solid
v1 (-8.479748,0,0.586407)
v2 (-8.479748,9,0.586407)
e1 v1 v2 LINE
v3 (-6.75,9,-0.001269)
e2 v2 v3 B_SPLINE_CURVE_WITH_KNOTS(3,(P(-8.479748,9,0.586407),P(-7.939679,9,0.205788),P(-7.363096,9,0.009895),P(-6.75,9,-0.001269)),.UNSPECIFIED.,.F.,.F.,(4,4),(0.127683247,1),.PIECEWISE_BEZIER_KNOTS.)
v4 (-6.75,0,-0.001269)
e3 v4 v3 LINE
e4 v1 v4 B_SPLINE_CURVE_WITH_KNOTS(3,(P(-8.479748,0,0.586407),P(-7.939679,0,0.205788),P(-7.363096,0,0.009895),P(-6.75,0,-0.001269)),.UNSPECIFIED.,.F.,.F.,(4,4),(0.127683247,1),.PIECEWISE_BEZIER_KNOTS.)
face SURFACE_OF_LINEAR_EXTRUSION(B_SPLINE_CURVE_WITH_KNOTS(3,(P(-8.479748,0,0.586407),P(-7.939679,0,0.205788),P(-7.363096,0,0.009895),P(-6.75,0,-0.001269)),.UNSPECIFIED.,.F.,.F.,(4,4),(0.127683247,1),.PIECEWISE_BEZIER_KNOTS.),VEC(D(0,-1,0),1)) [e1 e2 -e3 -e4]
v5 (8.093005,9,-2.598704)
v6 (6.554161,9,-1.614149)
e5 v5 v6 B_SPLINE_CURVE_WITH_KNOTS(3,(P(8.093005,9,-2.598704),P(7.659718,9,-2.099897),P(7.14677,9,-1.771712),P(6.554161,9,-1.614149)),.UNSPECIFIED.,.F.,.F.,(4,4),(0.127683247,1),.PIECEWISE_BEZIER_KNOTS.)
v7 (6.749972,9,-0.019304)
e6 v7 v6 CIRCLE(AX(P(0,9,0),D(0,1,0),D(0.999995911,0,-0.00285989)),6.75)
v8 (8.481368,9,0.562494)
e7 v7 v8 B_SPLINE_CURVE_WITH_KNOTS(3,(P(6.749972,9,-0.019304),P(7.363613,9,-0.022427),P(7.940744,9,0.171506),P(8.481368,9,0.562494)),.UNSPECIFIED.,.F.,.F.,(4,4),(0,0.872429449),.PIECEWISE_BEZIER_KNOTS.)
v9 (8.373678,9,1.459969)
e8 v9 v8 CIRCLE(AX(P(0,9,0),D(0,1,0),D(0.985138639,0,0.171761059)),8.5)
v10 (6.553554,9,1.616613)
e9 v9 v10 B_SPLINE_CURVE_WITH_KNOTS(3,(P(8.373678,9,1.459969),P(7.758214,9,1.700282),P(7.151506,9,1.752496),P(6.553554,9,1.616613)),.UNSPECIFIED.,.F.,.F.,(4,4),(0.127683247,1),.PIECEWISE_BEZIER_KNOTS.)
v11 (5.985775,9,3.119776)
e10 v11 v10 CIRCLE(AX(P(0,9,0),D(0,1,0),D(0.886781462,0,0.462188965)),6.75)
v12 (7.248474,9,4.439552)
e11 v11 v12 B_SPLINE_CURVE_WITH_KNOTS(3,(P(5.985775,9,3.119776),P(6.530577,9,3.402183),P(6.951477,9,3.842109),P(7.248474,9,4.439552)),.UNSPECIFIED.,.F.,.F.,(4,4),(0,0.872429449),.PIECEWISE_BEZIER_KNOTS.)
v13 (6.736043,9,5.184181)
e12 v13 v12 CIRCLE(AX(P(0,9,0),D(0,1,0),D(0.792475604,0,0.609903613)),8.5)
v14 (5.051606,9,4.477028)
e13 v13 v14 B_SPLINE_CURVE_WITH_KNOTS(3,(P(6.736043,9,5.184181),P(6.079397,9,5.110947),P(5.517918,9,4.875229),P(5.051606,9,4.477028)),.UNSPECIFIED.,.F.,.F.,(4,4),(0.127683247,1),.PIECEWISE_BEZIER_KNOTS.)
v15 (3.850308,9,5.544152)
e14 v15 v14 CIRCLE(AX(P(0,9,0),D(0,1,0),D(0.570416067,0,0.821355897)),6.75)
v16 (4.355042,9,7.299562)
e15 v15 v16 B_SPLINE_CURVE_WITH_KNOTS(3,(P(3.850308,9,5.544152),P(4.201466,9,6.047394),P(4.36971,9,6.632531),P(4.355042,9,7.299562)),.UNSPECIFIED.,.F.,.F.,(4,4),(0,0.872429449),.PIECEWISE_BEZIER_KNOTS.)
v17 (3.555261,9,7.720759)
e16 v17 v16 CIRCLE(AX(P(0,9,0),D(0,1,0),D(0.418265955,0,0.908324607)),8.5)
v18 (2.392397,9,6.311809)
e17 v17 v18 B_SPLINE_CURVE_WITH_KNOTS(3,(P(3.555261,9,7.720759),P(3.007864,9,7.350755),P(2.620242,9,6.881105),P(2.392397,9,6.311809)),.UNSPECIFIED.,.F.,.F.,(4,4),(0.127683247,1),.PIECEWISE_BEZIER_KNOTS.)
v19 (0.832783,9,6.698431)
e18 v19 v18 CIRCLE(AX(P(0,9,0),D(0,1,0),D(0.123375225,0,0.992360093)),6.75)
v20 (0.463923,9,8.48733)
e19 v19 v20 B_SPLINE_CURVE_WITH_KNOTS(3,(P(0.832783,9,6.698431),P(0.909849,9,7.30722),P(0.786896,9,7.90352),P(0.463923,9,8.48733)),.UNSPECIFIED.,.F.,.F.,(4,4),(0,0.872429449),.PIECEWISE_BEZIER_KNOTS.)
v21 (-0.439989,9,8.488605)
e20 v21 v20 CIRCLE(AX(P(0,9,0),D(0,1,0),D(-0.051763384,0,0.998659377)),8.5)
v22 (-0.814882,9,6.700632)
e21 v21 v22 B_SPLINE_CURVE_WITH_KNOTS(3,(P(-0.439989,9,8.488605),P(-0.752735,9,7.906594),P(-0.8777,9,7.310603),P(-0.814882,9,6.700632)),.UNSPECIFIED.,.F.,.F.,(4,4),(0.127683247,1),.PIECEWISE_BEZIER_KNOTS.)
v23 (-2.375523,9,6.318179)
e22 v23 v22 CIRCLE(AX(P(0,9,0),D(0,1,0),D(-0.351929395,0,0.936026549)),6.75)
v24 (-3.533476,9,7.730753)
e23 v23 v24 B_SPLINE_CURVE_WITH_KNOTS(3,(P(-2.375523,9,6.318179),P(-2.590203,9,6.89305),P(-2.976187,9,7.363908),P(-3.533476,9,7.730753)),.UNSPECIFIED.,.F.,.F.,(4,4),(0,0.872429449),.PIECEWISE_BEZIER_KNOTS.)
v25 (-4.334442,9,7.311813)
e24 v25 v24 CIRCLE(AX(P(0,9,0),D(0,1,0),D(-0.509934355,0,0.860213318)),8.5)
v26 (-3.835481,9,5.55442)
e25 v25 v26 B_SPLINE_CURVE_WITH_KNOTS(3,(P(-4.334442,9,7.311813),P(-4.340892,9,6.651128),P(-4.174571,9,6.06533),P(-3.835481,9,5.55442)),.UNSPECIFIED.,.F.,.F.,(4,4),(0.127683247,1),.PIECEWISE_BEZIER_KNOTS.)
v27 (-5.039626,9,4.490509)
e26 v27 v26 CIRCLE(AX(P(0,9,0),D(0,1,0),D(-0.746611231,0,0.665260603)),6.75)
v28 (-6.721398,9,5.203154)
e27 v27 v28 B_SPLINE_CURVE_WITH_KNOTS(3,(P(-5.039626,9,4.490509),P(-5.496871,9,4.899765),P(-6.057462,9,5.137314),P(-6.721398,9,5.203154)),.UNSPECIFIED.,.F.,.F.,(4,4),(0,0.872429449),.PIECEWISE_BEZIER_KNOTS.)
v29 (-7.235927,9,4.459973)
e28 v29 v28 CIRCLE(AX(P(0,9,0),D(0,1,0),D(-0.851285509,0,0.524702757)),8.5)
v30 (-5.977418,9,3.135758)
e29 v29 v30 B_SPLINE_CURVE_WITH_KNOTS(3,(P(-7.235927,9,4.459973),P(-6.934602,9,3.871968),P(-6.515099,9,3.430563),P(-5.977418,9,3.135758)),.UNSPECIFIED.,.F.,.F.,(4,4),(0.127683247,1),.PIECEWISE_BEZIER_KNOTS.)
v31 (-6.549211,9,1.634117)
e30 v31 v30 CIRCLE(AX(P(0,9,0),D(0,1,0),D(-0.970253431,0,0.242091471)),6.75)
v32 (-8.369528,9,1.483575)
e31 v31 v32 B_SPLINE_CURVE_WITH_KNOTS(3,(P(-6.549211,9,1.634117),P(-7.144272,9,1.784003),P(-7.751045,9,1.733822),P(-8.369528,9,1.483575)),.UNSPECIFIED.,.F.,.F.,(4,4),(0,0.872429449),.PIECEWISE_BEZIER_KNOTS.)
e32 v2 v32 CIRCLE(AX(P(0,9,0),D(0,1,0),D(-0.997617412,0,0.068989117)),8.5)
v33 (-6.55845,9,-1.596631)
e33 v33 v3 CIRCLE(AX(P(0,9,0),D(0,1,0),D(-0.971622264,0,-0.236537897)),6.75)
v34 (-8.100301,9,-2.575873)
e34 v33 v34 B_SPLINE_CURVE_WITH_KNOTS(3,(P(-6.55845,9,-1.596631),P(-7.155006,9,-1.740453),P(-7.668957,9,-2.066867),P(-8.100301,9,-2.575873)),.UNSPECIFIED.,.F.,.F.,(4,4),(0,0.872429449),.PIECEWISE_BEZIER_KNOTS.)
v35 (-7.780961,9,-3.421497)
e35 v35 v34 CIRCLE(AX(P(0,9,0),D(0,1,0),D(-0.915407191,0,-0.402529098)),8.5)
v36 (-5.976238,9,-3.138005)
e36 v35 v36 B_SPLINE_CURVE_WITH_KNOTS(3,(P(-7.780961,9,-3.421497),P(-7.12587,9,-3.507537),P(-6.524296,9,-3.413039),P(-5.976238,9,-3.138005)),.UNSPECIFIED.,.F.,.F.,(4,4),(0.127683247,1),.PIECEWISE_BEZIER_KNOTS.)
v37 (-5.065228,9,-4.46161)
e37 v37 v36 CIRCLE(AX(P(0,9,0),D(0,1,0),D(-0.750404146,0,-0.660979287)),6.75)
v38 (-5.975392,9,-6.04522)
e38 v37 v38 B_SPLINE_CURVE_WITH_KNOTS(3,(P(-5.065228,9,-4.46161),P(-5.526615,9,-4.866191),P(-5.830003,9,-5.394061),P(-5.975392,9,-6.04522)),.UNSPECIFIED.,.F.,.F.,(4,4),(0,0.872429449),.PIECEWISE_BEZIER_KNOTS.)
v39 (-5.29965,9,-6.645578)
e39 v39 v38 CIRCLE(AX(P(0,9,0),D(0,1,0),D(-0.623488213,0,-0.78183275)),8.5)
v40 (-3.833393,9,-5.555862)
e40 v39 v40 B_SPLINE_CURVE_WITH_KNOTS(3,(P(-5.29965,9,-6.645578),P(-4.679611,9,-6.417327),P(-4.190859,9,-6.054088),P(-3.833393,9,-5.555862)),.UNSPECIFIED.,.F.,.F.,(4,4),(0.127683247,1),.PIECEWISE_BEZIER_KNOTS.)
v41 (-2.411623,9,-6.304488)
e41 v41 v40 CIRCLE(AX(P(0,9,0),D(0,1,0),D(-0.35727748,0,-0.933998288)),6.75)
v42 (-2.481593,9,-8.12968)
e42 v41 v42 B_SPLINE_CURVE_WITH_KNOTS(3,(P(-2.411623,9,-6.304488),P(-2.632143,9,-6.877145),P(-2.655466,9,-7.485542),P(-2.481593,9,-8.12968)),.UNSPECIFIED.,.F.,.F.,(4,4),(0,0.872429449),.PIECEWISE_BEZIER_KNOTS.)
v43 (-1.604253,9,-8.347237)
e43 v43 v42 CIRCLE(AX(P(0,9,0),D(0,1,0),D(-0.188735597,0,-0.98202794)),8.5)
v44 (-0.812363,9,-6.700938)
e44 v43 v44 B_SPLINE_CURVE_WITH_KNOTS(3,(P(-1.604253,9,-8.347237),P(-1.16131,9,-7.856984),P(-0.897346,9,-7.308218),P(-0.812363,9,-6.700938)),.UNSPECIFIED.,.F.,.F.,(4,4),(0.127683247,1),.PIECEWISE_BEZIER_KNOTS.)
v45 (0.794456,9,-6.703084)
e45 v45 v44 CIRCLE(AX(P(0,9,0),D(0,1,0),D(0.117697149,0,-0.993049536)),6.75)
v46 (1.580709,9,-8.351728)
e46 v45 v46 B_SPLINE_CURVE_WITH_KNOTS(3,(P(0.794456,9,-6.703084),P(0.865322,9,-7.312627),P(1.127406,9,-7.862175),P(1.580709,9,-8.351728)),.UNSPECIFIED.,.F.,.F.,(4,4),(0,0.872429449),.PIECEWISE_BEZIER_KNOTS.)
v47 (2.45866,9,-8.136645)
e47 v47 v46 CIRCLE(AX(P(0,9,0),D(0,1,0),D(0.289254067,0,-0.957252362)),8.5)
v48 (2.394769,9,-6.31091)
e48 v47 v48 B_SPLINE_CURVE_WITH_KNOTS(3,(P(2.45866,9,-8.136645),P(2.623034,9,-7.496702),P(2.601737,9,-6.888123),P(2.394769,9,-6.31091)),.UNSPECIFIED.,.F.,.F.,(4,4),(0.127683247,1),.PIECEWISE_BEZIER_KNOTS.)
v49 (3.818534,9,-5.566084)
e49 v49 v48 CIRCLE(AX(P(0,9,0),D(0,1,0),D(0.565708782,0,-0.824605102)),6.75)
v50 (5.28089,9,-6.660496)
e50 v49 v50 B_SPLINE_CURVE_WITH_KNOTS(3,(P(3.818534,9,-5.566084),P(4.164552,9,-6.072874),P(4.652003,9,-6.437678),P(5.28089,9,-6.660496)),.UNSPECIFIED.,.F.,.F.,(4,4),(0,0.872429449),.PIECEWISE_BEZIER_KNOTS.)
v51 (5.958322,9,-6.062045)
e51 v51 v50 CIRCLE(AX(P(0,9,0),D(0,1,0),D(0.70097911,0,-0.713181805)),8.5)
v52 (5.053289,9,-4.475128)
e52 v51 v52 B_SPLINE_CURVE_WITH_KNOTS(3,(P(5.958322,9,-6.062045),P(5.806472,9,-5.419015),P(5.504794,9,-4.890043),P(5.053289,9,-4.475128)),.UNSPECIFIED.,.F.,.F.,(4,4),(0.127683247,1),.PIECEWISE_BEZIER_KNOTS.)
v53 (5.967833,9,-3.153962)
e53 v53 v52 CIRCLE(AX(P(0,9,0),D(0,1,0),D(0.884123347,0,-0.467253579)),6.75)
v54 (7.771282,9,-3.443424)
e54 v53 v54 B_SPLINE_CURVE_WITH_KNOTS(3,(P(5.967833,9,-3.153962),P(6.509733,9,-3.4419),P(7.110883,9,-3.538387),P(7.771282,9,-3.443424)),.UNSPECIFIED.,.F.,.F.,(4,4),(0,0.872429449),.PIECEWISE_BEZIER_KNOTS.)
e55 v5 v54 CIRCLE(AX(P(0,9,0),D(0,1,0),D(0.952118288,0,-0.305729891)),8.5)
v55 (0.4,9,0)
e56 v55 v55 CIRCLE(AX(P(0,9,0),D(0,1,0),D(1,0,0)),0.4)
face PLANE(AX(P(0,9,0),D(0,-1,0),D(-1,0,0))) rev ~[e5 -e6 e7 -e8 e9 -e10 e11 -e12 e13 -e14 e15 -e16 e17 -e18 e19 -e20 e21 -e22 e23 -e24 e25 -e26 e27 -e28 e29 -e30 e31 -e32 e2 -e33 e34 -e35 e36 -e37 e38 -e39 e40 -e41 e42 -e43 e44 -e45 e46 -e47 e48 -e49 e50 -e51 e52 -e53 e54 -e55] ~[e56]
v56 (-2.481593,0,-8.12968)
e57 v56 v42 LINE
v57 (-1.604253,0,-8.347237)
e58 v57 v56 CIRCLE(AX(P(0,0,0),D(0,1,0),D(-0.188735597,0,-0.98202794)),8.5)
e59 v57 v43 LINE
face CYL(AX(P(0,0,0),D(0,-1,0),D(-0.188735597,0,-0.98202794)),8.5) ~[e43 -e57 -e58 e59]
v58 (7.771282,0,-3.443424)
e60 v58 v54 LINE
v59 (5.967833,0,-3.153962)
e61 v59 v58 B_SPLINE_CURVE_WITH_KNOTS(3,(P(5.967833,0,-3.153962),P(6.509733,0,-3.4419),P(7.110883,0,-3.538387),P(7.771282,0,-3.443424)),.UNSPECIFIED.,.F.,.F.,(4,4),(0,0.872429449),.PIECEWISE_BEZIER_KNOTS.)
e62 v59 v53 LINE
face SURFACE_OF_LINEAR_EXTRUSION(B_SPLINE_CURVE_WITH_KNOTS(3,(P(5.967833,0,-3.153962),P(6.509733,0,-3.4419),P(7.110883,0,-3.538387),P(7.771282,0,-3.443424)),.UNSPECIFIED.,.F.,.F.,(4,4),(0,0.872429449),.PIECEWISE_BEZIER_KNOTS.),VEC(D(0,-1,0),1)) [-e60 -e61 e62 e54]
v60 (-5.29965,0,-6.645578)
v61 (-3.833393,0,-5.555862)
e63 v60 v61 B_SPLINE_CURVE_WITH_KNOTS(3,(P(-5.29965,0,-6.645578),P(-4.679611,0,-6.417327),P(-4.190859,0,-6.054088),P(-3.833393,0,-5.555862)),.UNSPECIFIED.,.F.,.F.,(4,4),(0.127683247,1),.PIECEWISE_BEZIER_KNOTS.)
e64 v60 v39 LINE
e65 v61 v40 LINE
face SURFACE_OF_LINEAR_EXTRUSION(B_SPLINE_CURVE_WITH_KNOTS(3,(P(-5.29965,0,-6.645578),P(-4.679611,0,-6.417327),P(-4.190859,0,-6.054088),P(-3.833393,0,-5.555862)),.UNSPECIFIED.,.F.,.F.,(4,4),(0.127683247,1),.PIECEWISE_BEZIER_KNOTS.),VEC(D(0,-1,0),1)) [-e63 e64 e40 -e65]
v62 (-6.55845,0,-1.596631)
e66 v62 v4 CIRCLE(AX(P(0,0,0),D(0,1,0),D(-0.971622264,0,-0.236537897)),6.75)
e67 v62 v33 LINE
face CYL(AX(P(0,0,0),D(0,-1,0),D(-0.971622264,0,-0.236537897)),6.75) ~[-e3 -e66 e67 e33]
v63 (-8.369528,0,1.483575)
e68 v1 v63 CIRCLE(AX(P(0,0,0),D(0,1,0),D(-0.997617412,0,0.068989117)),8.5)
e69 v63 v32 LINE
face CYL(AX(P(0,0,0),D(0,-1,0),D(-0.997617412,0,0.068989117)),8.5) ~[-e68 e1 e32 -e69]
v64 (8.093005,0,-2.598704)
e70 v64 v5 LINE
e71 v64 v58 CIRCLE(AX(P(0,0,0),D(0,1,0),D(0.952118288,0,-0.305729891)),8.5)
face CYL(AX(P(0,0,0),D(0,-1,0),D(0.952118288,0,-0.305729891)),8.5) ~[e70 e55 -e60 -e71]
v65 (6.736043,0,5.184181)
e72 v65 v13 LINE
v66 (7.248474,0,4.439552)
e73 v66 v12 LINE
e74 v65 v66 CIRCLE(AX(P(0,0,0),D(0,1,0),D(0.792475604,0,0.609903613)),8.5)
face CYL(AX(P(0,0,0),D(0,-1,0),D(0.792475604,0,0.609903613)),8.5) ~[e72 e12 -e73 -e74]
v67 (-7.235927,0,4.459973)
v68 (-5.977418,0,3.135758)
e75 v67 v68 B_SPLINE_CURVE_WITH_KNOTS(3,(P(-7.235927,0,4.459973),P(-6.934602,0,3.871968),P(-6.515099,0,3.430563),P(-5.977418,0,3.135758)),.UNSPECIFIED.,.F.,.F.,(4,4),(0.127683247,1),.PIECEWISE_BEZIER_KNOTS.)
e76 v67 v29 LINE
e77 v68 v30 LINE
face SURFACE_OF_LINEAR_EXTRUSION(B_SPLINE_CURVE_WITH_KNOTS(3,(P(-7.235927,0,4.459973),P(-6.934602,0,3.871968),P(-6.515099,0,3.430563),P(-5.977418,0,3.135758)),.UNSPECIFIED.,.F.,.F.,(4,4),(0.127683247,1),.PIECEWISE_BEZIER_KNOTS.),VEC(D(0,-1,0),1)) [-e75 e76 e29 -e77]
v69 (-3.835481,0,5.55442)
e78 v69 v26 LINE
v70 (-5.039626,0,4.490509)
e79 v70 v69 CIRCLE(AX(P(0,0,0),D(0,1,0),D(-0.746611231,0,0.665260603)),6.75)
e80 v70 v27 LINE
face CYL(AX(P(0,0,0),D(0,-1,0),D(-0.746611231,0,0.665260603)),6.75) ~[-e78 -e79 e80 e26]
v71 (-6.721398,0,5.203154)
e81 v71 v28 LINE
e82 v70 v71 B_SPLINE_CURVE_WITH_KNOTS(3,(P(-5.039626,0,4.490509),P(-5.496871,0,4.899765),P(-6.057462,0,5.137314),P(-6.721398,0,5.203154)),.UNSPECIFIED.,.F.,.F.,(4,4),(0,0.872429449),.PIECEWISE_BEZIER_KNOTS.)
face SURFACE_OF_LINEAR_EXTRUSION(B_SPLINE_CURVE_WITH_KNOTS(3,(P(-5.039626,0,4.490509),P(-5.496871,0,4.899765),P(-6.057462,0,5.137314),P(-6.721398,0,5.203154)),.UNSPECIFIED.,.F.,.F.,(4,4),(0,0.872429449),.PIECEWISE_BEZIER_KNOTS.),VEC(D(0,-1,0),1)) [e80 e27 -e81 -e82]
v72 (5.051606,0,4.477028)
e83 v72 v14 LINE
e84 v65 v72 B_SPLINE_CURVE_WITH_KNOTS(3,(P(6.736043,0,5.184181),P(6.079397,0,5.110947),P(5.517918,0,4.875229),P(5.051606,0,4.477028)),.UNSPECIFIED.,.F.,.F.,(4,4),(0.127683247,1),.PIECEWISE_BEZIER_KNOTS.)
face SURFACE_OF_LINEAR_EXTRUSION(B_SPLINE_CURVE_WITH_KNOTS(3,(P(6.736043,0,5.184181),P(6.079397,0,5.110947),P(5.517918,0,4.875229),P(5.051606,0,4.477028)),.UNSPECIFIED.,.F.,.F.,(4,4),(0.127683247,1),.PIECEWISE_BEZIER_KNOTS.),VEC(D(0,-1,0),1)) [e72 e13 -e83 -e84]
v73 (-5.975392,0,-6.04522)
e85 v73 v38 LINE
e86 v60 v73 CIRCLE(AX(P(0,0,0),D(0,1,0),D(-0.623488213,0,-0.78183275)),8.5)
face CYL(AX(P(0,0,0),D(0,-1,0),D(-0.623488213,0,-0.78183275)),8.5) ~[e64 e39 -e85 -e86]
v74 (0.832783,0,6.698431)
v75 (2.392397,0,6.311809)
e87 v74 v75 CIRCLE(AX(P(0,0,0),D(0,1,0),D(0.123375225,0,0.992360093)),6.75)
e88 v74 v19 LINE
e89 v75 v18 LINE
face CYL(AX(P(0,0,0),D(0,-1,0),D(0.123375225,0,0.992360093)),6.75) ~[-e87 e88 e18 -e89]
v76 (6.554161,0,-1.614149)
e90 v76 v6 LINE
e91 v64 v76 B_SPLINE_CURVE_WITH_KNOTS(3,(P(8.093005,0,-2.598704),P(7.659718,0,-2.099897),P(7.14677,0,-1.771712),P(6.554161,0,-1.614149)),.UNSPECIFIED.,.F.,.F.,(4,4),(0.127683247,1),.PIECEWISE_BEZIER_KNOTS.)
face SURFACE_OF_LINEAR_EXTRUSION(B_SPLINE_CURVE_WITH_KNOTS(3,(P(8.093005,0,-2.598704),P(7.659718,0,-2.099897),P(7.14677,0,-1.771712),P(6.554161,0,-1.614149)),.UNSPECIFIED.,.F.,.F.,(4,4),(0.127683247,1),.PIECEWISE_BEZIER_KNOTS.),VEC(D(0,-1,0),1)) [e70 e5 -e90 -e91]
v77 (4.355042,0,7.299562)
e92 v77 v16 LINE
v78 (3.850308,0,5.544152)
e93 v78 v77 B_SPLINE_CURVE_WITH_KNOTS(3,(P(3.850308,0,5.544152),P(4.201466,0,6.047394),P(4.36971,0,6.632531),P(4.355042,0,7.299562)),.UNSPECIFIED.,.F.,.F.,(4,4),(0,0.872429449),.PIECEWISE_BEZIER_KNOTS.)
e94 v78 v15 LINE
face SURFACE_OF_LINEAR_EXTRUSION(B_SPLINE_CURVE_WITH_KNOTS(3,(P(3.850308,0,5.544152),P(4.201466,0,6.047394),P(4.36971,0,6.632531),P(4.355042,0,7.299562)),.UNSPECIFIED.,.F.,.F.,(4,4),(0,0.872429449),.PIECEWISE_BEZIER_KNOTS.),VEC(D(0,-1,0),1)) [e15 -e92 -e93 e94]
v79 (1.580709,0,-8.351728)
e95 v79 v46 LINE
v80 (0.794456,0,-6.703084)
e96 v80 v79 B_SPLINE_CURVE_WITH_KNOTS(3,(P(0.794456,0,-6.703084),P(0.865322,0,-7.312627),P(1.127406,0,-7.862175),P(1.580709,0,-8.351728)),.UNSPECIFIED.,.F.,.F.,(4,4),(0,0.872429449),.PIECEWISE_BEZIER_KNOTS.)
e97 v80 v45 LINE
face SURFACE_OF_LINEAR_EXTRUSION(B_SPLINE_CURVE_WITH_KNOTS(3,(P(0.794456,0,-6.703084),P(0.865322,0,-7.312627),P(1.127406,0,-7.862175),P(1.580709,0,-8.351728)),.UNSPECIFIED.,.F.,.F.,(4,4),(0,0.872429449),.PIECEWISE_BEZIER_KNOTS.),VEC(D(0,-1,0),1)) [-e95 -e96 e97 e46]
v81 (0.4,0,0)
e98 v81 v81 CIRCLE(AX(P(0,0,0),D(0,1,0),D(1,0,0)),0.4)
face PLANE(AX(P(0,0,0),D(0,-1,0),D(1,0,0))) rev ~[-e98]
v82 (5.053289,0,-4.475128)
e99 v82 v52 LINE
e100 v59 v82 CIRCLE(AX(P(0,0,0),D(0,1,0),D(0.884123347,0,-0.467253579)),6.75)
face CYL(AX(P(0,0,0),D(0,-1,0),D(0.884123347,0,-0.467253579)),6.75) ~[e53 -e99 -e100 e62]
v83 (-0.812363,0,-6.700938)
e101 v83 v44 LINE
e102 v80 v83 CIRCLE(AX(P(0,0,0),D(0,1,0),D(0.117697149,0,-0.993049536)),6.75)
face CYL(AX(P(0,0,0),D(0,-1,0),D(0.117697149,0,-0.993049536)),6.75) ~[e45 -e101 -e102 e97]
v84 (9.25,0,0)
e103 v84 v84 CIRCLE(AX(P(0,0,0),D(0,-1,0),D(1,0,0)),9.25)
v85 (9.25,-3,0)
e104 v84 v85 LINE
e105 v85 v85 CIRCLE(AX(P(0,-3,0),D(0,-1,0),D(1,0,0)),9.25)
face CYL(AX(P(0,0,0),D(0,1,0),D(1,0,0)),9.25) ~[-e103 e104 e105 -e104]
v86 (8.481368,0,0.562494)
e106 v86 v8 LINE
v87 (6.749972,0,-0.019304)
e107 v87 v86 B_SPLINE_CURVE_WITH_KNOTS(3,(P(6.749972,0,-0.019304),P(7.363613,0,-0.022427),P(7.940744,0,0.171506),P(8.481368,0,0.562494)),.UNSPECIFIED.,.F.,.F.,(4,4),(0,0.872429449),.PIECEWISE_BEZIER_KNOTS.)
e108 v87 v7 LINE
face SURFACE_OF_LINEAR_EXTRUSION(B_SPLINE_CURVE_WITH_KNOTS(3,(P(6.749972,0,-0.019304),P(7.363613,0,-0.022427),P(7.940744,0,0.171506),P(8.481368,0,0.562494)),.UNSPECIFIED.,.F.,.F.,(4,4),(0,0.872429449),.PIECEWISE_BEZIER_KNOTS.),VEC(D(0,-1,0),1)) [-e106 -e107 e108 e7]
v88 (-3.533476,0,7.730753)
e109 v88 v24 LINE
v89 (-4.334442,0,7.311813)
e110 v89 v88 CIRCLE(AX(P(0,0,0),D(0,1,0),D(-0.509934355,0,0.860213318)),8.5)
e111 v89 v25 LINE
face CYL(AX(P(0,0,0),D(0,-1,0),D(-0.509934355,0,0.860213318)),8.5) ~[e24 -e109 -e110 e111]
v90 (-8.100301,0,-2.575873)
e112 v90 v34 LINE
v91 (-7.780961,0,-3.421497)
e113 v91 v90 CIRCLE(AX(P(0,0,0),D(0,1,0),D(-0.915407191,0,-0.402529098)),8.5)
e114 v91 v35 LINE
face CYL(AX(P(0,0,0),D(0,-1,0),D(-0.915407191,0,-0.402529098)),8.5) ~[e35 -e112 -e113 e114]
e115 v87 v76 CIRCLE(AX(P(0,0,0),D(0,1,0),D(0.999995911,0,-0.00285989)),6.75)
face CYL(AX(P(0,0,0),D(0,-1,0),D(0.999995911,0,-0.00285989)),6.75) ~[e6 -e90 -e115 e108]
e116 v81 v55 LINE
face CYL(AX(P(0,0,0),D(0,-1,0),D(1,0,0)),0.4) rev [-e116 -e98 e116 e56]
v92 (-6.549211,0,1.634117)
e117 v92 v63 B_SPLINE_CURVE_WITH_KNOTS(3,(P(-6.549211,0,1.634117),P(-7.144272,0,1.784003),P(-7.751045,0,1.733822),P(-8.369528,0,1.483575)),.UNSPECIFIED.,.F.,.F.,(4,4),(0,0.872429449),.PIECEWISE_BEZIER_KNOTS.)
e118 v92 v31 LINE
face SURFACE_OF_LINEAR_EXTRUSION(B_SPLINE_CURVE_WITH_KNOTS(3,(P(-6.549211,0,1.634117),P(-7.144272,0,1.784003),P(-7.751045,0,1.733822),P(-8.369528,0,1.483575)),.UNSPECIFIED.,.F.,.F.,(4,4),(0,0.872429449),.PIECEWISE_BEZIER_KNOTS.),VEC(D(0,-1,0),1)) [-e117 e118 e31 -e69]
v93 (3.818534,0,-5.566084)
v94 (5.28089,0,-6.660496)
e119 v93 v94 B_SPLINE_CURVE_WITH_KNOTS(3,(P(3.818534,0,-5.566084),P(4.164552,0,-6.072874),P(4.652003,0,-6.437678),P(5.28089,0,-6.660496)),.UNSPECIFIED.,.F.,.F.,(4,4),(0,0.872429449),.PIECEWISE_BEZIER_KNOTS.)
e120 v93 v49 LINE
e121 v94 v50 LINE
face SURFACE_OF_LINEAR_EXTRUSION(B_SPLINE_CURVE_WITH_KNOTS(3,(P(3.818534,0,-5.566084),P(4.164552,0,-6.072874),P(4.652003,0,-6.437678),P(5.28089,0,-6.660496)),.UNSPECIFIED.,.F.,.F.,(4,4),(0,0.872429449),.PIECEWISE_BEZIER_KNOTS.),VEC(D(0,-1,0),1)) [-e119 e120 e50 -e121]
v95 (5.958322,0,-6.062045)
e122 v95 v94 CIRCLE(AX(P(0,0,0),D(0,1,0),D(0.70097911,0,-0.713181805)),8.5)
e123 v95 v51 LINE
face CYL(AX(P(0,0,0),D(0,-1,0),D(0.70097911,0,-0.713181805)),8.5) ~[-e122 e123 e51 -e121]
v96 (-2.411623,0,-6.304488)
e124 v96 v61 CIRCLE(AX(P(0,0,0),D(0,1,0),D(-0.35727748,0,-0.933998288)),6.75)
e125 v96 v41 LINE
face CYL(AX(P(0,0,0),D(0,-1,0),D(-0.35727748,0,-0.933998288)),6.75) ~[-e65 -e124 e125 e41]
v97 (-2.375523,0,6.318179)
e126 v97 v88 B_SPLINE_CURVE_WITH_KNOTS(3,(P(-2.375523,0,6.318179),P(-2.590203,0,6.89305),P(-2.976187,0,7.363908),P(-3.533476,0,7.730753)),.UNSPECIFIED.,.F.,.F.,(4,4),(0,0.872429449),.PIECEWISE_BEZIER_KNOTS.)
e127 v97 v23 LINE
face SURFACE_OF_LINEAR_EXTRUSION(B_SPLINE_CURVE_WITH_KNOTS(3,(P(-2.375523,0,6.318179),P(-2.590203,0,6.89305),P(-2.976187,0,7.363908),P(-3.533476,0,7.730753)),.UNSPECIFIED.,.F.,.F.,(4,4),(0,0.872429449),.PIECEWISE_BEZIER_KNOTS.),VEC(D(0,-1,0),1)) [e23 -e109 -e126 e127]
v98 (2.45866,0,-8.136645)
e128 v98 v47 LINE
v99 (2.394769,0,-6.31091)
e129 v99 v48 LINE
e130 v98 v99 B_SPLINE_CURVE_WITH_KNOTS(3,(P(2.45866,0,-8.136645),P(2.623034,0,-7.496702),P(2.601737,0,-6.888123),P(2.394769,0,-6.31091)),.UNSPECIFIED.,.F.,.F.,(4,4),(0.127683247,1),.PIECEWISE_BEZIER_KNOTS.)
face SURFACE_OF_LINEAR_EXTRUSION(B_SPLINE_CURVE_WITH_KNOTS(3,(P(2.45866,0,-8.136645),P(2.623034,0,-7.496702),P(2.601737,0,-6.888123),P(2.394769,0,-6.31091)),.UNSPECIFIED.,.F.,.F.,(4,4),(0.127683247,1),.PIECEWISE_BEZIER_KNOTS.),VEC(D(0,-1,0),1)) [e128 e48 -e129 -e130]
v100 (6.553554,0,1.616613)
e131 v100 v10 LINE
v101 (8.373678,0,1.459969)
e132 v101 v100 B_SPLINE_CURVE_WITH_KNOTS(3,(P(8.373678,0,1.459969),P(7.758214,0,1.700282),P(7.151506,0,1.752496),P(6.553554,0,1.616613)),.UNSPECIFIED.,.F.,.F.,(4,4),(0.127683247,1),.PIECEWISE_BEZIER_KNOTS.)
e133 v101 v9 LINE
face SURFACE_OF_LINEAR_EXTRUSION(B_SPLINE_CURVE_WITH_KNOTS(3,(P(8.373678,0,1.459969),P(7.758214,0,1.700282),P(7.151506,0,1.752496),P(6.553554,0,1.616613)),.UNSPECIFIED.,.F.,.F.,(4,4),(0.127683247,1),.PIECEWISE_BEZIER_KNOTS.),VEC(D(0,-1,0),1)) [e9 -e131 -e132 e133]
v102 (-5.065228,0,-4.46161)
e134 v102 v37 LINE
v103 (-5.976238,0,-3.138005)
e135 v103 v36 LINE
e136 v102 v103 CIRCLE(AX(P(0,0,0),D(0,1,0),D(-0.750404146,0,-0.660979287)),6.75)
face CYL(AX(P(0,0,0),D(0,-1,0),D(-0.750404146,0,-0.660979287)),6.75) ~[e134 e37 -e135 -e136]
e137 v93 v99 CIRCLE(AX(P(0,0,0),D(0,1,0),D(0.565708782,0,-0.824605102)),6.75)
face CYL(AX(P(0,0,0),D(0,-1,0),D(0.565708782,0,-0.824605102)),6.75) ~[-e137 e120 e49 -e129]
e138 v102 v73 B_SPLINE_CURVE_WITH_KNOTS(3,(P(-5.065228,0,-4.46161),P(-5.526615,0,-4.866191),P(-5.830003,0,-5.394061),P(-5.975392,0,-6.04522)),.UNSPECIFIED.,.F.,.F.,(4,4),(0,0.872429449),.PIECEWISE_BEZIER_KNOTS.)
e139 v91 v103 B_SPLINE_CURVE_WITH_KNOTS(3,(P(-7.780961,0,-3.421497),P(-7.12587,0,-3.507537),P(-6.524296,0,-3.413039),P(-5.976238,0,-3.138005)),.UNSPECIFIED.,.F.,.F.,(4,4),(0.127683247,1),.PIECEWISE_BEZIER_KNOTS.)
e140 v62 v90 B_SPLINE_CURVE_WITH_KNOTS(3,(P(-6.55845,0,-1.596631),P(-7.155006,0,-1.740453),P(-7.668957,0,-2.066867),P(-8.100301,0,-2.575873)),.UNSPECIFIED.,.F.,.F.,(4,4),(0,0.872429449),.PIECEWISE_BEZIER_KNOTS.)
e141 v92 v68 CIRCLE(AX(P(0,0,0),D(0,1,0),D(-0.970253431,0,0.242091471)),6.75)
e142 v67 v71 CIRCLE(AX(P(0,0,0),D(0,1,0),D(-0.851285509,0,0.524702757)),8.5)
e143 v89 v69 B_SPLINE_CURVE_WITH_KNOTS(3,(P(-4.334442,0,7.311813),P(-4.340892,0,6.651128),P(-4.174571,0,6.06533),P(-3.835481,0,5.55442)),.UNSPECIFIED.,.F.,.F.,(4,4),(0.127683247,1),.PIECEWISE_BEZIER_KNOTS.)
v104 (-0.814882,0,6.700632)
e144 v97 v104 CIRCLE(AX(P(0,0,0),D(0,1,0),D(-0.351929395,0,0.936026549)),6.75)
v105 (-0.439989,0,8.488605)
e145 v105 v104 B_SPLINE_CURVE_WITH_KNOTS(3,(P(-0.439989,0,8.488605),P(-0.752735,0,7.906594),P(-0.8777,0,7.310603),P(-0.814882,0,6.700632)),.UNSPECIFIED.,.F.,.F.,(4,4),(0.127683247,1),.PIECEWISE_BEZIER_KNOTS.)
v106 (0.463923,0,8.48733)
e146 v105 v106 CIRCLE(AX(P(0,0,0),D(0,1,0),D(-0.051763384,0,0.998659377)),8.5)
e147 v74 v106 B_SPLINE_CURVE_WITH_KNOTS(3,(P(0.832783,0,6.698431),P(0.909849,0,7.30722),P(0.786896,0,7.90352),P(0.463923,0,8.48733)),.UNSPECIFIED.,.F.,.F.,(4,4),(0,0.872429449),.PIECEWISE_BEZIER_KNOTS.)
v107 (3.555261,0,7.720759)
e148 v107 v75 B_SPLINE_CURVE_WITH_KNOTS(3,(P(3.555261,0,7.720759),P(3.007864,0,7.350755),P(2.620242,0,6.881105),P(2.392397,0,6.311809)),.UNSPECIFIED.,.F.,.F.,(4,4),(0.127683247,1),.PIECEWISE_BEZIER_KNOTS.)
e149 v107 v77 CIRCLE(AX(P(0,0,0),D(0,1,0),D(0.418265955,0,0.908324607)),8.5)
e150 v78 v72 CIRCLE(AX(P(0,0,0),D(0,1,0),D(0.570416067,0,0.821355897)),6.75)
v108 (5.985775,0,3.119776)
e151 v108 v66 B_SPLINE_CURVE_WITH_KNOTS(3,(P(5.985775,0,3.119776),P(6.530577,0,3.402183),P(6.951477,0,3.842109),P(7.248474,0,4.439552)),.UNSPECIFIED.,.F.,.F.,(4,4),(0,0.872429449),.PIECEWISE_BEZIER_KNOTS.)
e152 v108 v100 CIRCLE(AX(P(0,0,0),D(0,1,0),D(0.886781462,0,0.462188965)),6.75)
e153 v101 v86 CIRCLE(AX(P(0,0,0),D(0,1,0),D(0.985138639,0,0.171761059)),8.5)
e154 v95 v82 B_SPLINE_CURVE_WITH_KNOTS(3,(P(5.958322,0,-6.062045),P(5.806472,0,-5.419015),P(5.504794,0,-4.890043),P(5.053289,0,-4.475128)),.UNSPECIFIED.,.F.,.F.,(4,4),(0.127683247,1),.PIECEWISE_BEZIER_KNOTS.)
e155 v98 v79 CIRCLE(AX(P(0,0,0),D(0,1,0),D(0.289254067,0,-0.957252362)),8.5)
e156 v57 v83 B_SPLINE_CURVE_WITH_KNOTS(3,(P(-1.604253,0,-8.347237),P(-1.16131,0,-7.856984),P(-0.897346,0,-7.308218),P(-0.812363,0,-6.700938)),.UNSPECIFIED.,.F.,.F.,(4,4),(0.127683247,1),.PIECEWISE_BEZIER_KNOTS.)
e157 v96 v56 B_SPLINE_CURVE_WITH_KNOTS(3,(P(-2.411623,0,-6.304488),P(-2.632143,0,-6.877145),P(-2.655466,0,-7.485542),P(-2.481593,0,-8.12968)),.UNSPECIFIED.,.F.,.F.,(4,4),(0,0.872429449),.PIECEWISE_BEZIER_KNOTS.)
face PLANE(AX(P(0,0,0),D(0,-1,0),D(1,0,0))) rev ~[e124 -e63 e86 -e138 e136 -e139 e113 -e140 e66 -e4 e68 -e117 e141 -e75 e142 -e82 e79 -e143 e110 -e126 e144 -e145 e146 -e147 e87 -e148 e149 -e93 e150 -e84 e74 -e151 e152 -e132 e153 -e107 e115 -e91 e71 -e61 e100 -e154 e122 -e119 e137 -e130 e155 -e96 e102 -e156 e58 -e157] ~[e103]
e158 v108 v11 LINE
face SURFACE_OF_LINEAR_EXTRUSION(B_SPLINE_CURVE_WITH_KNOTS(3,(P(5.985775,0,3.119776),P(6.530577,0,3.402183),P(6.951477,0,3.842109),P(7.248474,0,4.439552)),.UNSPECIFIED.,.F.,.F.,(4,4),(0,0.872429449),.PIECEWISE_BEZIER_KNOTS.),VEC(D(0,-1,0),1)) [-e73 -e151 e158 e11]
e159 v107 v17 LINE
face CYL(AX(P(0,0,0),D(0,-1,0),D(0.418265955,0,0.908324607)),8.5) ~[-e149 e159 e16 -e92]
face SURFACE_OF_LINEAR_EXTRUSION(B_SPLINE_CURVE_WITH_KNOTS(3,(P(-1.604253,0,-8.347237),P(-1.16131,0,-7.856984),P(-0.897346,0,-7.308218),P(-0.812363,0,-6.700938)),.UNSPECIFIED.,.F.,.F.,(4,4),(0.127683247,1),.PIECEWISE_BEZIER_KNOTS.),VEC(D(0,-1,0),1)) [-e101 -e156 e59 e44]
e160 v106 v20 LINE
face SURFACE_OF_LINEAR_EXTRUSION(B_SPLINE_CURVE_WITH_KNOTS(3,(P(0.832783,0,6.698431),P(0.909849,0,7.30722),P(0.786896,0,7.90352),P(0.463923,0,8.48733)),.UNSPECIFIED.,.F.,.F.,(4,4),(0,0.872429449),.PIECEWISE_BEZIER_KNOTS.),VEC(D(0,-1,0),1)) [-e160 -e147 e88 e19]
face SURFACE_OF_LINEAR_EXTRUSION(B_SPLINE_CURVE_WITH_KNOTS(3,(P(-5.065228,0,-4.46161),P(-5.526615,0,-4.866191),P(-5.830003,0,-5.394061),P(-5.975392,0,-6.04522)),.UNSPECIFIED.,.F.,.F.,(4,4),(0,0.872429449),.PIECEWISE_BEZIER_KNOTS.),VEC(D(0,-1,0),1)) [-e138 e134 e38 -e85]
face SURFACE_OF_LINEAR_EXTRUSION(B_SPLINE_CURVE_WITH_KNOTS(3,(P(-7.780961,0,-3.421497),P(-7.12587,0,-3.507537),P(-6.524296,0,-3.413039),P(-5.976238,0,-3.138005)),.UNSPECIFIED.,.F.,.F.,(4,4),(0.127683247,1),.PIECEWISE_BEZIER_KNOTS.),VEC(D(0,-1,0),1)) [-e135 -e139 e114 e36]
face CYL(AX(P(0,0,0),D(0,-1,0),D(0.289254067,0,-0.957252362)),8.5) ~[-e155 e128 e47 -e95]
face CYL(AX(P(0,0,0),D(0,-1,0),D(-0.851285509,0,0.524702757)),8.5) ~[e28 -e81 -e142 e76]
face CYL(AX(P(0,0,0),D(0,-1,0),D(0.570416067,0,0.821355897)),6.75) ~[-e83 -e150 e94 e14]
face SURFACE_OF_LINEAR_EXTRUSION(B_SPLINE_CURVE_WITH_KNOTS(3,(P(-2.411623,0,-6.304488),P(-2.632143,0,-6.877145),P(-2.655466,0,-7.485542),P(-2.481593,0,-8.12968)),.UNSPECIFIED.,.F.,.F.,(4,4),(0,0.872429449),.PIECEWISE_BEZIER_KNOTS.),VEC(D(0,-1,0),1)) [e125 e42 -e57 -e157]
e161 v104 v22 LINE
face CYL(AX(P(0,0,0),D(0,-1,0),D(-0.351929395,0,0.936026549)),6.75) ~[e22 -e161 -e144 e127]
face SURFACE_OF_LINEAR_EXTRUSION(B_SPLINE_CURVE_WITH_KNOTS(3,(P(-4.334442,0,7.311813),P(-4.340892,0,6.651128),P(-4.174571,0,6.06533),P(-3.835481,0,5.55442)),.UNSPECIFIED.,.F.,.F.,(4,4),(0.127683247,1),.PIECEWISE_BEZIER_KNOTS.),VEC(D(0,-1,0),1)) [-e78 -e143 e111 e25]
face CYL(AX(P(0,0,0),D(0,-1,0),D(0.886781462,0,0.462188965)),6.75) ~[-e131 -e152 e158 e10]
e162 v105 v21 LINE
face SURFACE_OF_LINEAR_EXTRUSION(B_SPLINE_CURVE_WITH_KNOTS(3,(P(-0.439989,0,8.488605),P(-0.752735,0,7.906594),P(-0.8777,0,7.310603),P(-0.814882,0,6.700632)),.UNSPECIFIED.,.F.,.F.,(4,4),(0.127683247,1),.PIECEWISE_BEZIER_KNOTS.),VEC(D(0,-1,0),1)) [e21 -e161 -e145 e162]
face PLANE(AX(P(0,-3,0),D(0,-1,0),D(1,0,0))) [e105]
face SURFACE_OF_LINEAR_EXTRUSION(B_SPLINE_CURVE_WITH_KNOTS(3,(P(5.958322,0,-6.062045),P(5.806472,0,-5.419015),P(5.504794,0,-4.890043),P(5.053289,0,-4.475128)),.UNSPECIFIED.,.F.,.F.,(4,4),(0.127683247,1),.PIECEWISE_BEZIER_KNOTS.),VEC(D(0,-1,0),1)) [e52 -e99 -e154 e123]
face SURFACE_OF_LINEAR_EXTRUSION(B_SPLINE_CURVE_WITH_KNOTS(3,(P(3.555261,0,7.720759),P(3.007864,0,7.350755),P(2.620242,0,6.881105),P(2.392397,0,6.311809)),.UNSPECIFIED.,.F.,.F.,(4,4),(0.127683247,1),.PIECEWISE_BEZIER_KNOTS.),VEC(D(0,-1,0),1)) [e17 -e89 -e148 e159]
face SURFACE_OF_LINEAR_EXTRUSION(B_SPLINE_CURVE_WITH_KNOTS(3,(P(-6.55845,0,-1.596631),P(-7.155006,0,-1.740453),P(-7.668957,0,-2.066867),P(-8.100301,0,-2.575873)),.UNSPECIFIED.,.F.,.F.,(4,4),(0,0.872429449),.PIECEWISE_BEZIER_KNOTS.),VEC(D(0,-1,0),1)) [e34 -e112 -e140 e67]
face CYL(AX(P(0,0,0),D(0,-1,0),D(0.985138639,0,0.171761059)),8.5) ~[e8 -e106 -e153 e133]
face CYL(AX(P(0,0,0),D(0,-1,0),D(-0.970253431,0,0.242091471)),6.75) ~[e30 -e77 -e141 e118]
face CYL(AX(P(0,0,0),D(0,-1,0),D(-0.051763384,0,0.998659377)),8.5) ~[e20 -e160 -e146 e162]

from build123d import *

# Parameters (mm, degrees)
SKETCH1_R           = 0.4
BOSS_EXTRUDE1_DEPTH = 9
SKETCH2_R           = 9.25
BOSS_EXTRUDE2_DEPTH = 3


with BuildPart() as part:
    # Sketch1 → Boss-Extrude1 (new body)
    with BuildSketch(Plane(origin=(0, 0, 0), x_dir=(1, 0, 0), z_dir=(0, 1, 0))):
        with BuildLine():
            add(Edge.make_bspline(
                [(-5.065227978, 4.461610195), (-5.526615005, 4.86619147), (-5.830003112, 5.39406146), (-5.975392301, 6.045220165)],
                knots=[0, 0, 0, 0, 0.872429449, 0.872429449, 0.872429449, 0.872429449], degree=3))
            ThreePointArc((-5.065227978, 4.461610195), (-5.560258819, 3.827012132), (-5.976238464, 3.138004752))
            add(Edge.make_bspline(
                [(-7.780961116, 3.42149735), (-7.125870497, 3.507536778), (-6.52429628, 3.413039245), (-5.976238464, 3.138004752)],
                knots=[0.127683247, 0.127683247, 0.127683247, 0.127683247, 1, 1, 1, 1], degree=3))
            ThreePointArc((-7.780961116, 3.42149735), (-7.951879756, 3.00293329), (-8.10030101, 2.575873357))
            add(Edge.make_bspline(
                [(-6.558450277, 1.596630818), (-7.155006493, 1.740452504), (-7.668956737, 2.066866683), (-8.10030101, 2.575873357)],
                knots=[0, 0, 0, 0, 0.872429449, 0.872429449, 0.872429449, 0.872429449], degree=3))
            ThreePointArc((-6.558450277, 1.596630818), (-6.701865893, 0.804669837), (-6.749999881, 0.00126872))
            add(Edge.make_bspline(
                [(-8.479748007, -0.586407486), (-7.939678588, -0.205787566), (-7.363095879, -0.009895497), (-6.749999881, 0.00126872)],
                knots=[0.127683247, 0.127683247, 0.127683247, 0.127683247, 1, 1, 1, 1], degree=3))
            ThreePointArc((-8.479748007, -0.586407486), (-8.436572529, -1.036457408), (-8.369528376, -1.483574994))
            add(Edge.make_bspline(
                [(-6.549210655, -1.634117437), (-7.144272221, -1.784003157), (-7.751044795, -1.733822342), (-8.369528376, -1.483574994)],
                knots=[0, 0, 0, 0, 0.872429449, 0.872429449, 0.872429449, 0.872429449], degree=3))
            ThreePointArc((-6.549210655, -1.634117437), (-6.308156258, -2.402012621), (-5.977417671, -3.13575796))
            add(Edge.make_bspline(
                [(-7.235926822, -4.459973434), (-6.934601997, -3.871968458), (-6.515098947, -3.4305633), (-5.977417671, -3.13575796)],
                knots=[0.127683247, 0.127683247, 0.127683247, 0.127683247, 1, 1, 1, 1], degree=3))
            ThreePointArc((-7.235926822, -4.459973434), (-6.988548208, -4.838408204), (-6.721397655, -5.203154193))
            add(Edge.make_bspline(
                [(-5.039625799, -4.490509081), (-5.496871281, -4.899765193), (-6.0574619, -5.137313564), (-6.721397655, -5.203154193)],
                knots=[0, 0, 0, 0, 0.872429449, 0.872429449, 0.872429449, 0.872429449], degree=3))
            ThreePointArc((-5.039625799, -4.490509081), (-4.469324045, -5.058422935), (-3.835481109, -5.554420281))
            add(Edge.make_bspline(
                [(-4.334442004, -7.311813216), (-4.34089166, -6.651128039), (-4.174571361, -6.065330394), (-3.835481109, -5.554420281)],
                knots=[0.127683247, 0.127683247, 0.127683247, 0.127683247, 1, 1, 1, 1], degree=3))
            ThreePointArc((-4.334442004, -7.311813216), (-3.939531713, -7.53193799), (-3.533475733, -7.730753472))
            add(Edge.make_bspline(
                [(-2.375523406, -6.318179211), (-2.590203375, -6.893050073), (-2.976187484, -7.36390816), (-3.533475733, -7.730753472)],
                knots=[0, 0, 0, 0, 0.872429449, 0.872429449, 0.872429449, 0.872429449], degree=3))
            ThreePointArc((-2.375523406, -6.318179211), (-1.606623554, -6.556009515), (-0.814882047, -6.700631854))
            add(Edge.make_bspline(
                [(-0.439988759, -8.488604708), (-0.752735357, -7.906594341), (-0.877699786, -7.31060339), (-0.814882047, -6.700631854)],
                knots=[0.127683247, 0.127683247, 0.127683247, 0.127683247, 1, 1, 1, 1], degree=3))
            ThreePointArc((-0.439988759, -8.488604708), (0.011984021, -8.499991552), (0.463922896, -8.487330296))
            add(Edge.make_bspline(
                [(0.832782771, -6.698430626), (0.909848909, -7.307220251), (0.786895617, -7.903520141), (0.463922896, -8.487330296)],
                knots=[0, 0, 0, 0, 0.872429449, 0.872429449, 0.872429449, 0.872429449], degree=3))
            ThreePointArc((0.832782771, -6.698430626), (1.624135031, -6.551693323), (2.392396671, -6.311809421))
            add(Edge.make_bspline(
                [(3.555260608, -7.72075916), (3.007863545, -7.350755165), (2.620242233, -6.881105252), (2.392396671, -6.311809421)],
                knots=[0.127683247, 0.127683247, 0.127683247, 0.127683247, 1, 1, 1, 1], degree=3))
            ThreePointArc((3.555260608, -7.72075916), (3.96075436, -7.520799485), (4.355042381, -7.299562032))
            add(Edge.make_bspline(
                [(3.850308451, -5.54415231), (4.201465773, -6.047394331), (4.369710416, -6.632530905), (4.355042381, -7.299562032)],
                knots=[0, 0, 0, 0, 0.872429449, 0.872429449, 0.872429449, 0.872429449], degree=3))
            ThreePointArc((3.850308451, -5.54415231), (4.482823853, -5.046463148), (5.051606144, -4.477027515))
            add(Edge.make_bspline(
                [(6.736042616, -5.184180734), (6.079397157, -5.110946566), (5.517918333, -4.875228826), (5.051606144, -4.477027515)],
                knots=[0.127683247, 0.127683247, 0.127683247, 0.127683247, 1, 1, 1, 1], degree=3))
            ThreePointArc((6.736042616, -5.184180734), (7.002163607, -4.818682892), (7.24847414, -4.439552076))
            add(Edge.make_bspline(
                [(5.985774866, -3.119775513), (6.530577461, -3.402183249), (6.951477219, -3.84210877), (7.24847414, -4.439552076)],
                knots=[0, 0, 0, 0, 0.872429449, 0.872429449, 0.872429449, 0.872429449], degree=3))
            ThreePointArc((5.985774866, -3.119775513), (6.314551754, -2.385149082), (6.553553527, -1.616612559))
            add(Edge.make_bspline(
                [(8.373678438, -1.459968977), (7.758214146, -1.700281702), (7.151505842, -1.75249623), (6.553553527, -1.616612559)],
                knots=[0.127683247, 0.127683247, 0.127683247, 0.127683247, 1, 1, 1, 1], degree=3))
            ThreePointArc((8.373678438, -1.459968977), (8.439461558, -1.01266412), (8.481367828, -0.562494242))
            add(Edge.make_bspline(
                [(6.749972396, 0.019304256), (7.363612555, 0.022427015), (7.940744366, -0.171505818), (8.481367828, -0.562494242)],
                knots=[0, 0, 0, 0, 0.872429449, 0.872429449, 0.872429449, 0.872429449], degree=3))
            ThreePointArc((6.749972396, 0.019304256), (6.699691947, 0.822573894), (6.554160776, 1.614148852))
            add(Edge.make_bspline(
                [(8.093005444, 2.598704077), (7.65971777, 2.099897208), (7.146769547, 1.771712133), (6.554160776, 1.614148852)],
                knots=[0.127683247, 0.127683247, 0.127683247, 0.127683247, 1, 1, 1, 1], degree=3))
            ThreePointArc((8.093005444, 2.598704077), (7.943380571, 3.025343799), (7.771282357, 3.443424244))
            add(Edge.make_bspline(
                [(5.967832596, 3.153961653), (6.509732754, 3.44189952), (7.110882674, 3.53838705), (7.771282357, 3.443424244)],
                knots=[0, 0, 0, 0, 0.872429449, 0.872429449, 0.872429449, 0.872429449], degree=3))
            ThreePointArc((5.967832596, 3.153961653), (5.550013455, 3.841855105), (5.053288778, 4.475128213))
            add(Edge.make_bspline(
                [(5.958322434, 6.062045345), (5.806472362, 5.419014975), (5.504794477, 4.890042598), (5.053288778, 4.475128213)],
                knots=[0.127683247, 0.127683247, 0.127683247, 0.127683247, 1, 1, 1, 1], degree=3))
            ThreePointArc((5.958322434, 6.062045345), (5.627566824, 6.370281912), (5.280889753, 6.660495734))
            add(Edge.make_bspline(
                [(3.818534268, 5.566084444), (4.16455163, 6.072874324), (4.652003458, 6.437678087), (5.280889753, 6.660495734)],
                knots=[0, 0, 0, 0, 0.872429449, 0.872429449, 0.872429449, 0.872429449], degree=3))
            ThreePointArc((3.818534268, 5.566084444), (3.128893766, 5.98101361), (2.394769219, 6.310909632))
            add(Edge.make_bspline(
                [(2.45865956, 8.136645081), (2.623034112, 7.496701718), (2.601737332, 6.888123235), (2.394769219, 6.310909632)],
                knots=[0.127683247, 0.127683247, 0.127683247, 0.127683247, 1, 1, 1, 1], degree=3))
            ThreePointArc((2.45865956, 8.136645081), (2.022545337, 8.25586521), (1.580708948, 8.351727918))
            add(Edge.make_bspline(
                [(0.794455758, 6.703084368), (0.865321915, 7.312626807), (1.127406312, 7.862174657), (1.580708948, 8.351727918)],
                knots=[0, 0, 0, 0, 0.872429449, 0.872429449, 0.872429449, 0.872429449], degree=3))
            ThreePointArc((0.794455758, 6.703084368), (-0.009017778, 6.749993976), (-0.812363108, 6.700937709))
            add(Edge.make_bspline(
                [(-1.604252589, 8.347237485), (-1.161309642, 7.856984441), (-0.897346481, 7.308217849), (-0.812363108, 6.700937709)],
                knots=[0.127683247, 0.127683247, 0.127683247, 0.127683247, 1, 1, 1, 1], degree=3))
            ThreePointArc((-1.604252589, 8.347237485), (-2.045816912, 8.250129282), (-2.481593228, 8.129679886))
            add(Edge.make_bspline(
                [(-2.411622992, 6.304488444), (-2.632142622, 6.877144615), (-2.655466033, 7.485541762), (-2.481593228, 8.129679886)],
                knots=[0, 0, 0, 0, 0.872429449, 0.872429449, 0.872429449, 0.872429449], degree=3))
            ThreePointArc((-2.411622992, 6.304488444), (-3.144863458, 5.972632069), (-3.833392837, 5.555861712))
            add(Edge.make_bspline(
                [(-5.299649804, 6.645578377), (-4.679611352, 6.417326717), (-4.19085903, 6.054087828), (-3.833392837, 5.555861712)],
                knots=[0.127683247, 0.127683247, 0.127683247, 0.127683247, 1, 1, 1, 1], degree=3))
            ThreePointArc((-5.299649804, 6.645578377), (-5.645507162, 6.35438816), (-5.975392301, 6.045220165))
        make_face()
        Circle(SKETCH1_R, mode=Mode.SUBTRACT)
    extrude(amount=BOSS_EXTRUDE1_DEPTH)

    # Sketch2 → Boss-Extrude2 (add)
    with BuildSketch(Plane.XZ):
        Circle(SKETCH2_R)
    extrude(amount=BOSS_EXTRUDE2_DEPTH)


solid = part.part
